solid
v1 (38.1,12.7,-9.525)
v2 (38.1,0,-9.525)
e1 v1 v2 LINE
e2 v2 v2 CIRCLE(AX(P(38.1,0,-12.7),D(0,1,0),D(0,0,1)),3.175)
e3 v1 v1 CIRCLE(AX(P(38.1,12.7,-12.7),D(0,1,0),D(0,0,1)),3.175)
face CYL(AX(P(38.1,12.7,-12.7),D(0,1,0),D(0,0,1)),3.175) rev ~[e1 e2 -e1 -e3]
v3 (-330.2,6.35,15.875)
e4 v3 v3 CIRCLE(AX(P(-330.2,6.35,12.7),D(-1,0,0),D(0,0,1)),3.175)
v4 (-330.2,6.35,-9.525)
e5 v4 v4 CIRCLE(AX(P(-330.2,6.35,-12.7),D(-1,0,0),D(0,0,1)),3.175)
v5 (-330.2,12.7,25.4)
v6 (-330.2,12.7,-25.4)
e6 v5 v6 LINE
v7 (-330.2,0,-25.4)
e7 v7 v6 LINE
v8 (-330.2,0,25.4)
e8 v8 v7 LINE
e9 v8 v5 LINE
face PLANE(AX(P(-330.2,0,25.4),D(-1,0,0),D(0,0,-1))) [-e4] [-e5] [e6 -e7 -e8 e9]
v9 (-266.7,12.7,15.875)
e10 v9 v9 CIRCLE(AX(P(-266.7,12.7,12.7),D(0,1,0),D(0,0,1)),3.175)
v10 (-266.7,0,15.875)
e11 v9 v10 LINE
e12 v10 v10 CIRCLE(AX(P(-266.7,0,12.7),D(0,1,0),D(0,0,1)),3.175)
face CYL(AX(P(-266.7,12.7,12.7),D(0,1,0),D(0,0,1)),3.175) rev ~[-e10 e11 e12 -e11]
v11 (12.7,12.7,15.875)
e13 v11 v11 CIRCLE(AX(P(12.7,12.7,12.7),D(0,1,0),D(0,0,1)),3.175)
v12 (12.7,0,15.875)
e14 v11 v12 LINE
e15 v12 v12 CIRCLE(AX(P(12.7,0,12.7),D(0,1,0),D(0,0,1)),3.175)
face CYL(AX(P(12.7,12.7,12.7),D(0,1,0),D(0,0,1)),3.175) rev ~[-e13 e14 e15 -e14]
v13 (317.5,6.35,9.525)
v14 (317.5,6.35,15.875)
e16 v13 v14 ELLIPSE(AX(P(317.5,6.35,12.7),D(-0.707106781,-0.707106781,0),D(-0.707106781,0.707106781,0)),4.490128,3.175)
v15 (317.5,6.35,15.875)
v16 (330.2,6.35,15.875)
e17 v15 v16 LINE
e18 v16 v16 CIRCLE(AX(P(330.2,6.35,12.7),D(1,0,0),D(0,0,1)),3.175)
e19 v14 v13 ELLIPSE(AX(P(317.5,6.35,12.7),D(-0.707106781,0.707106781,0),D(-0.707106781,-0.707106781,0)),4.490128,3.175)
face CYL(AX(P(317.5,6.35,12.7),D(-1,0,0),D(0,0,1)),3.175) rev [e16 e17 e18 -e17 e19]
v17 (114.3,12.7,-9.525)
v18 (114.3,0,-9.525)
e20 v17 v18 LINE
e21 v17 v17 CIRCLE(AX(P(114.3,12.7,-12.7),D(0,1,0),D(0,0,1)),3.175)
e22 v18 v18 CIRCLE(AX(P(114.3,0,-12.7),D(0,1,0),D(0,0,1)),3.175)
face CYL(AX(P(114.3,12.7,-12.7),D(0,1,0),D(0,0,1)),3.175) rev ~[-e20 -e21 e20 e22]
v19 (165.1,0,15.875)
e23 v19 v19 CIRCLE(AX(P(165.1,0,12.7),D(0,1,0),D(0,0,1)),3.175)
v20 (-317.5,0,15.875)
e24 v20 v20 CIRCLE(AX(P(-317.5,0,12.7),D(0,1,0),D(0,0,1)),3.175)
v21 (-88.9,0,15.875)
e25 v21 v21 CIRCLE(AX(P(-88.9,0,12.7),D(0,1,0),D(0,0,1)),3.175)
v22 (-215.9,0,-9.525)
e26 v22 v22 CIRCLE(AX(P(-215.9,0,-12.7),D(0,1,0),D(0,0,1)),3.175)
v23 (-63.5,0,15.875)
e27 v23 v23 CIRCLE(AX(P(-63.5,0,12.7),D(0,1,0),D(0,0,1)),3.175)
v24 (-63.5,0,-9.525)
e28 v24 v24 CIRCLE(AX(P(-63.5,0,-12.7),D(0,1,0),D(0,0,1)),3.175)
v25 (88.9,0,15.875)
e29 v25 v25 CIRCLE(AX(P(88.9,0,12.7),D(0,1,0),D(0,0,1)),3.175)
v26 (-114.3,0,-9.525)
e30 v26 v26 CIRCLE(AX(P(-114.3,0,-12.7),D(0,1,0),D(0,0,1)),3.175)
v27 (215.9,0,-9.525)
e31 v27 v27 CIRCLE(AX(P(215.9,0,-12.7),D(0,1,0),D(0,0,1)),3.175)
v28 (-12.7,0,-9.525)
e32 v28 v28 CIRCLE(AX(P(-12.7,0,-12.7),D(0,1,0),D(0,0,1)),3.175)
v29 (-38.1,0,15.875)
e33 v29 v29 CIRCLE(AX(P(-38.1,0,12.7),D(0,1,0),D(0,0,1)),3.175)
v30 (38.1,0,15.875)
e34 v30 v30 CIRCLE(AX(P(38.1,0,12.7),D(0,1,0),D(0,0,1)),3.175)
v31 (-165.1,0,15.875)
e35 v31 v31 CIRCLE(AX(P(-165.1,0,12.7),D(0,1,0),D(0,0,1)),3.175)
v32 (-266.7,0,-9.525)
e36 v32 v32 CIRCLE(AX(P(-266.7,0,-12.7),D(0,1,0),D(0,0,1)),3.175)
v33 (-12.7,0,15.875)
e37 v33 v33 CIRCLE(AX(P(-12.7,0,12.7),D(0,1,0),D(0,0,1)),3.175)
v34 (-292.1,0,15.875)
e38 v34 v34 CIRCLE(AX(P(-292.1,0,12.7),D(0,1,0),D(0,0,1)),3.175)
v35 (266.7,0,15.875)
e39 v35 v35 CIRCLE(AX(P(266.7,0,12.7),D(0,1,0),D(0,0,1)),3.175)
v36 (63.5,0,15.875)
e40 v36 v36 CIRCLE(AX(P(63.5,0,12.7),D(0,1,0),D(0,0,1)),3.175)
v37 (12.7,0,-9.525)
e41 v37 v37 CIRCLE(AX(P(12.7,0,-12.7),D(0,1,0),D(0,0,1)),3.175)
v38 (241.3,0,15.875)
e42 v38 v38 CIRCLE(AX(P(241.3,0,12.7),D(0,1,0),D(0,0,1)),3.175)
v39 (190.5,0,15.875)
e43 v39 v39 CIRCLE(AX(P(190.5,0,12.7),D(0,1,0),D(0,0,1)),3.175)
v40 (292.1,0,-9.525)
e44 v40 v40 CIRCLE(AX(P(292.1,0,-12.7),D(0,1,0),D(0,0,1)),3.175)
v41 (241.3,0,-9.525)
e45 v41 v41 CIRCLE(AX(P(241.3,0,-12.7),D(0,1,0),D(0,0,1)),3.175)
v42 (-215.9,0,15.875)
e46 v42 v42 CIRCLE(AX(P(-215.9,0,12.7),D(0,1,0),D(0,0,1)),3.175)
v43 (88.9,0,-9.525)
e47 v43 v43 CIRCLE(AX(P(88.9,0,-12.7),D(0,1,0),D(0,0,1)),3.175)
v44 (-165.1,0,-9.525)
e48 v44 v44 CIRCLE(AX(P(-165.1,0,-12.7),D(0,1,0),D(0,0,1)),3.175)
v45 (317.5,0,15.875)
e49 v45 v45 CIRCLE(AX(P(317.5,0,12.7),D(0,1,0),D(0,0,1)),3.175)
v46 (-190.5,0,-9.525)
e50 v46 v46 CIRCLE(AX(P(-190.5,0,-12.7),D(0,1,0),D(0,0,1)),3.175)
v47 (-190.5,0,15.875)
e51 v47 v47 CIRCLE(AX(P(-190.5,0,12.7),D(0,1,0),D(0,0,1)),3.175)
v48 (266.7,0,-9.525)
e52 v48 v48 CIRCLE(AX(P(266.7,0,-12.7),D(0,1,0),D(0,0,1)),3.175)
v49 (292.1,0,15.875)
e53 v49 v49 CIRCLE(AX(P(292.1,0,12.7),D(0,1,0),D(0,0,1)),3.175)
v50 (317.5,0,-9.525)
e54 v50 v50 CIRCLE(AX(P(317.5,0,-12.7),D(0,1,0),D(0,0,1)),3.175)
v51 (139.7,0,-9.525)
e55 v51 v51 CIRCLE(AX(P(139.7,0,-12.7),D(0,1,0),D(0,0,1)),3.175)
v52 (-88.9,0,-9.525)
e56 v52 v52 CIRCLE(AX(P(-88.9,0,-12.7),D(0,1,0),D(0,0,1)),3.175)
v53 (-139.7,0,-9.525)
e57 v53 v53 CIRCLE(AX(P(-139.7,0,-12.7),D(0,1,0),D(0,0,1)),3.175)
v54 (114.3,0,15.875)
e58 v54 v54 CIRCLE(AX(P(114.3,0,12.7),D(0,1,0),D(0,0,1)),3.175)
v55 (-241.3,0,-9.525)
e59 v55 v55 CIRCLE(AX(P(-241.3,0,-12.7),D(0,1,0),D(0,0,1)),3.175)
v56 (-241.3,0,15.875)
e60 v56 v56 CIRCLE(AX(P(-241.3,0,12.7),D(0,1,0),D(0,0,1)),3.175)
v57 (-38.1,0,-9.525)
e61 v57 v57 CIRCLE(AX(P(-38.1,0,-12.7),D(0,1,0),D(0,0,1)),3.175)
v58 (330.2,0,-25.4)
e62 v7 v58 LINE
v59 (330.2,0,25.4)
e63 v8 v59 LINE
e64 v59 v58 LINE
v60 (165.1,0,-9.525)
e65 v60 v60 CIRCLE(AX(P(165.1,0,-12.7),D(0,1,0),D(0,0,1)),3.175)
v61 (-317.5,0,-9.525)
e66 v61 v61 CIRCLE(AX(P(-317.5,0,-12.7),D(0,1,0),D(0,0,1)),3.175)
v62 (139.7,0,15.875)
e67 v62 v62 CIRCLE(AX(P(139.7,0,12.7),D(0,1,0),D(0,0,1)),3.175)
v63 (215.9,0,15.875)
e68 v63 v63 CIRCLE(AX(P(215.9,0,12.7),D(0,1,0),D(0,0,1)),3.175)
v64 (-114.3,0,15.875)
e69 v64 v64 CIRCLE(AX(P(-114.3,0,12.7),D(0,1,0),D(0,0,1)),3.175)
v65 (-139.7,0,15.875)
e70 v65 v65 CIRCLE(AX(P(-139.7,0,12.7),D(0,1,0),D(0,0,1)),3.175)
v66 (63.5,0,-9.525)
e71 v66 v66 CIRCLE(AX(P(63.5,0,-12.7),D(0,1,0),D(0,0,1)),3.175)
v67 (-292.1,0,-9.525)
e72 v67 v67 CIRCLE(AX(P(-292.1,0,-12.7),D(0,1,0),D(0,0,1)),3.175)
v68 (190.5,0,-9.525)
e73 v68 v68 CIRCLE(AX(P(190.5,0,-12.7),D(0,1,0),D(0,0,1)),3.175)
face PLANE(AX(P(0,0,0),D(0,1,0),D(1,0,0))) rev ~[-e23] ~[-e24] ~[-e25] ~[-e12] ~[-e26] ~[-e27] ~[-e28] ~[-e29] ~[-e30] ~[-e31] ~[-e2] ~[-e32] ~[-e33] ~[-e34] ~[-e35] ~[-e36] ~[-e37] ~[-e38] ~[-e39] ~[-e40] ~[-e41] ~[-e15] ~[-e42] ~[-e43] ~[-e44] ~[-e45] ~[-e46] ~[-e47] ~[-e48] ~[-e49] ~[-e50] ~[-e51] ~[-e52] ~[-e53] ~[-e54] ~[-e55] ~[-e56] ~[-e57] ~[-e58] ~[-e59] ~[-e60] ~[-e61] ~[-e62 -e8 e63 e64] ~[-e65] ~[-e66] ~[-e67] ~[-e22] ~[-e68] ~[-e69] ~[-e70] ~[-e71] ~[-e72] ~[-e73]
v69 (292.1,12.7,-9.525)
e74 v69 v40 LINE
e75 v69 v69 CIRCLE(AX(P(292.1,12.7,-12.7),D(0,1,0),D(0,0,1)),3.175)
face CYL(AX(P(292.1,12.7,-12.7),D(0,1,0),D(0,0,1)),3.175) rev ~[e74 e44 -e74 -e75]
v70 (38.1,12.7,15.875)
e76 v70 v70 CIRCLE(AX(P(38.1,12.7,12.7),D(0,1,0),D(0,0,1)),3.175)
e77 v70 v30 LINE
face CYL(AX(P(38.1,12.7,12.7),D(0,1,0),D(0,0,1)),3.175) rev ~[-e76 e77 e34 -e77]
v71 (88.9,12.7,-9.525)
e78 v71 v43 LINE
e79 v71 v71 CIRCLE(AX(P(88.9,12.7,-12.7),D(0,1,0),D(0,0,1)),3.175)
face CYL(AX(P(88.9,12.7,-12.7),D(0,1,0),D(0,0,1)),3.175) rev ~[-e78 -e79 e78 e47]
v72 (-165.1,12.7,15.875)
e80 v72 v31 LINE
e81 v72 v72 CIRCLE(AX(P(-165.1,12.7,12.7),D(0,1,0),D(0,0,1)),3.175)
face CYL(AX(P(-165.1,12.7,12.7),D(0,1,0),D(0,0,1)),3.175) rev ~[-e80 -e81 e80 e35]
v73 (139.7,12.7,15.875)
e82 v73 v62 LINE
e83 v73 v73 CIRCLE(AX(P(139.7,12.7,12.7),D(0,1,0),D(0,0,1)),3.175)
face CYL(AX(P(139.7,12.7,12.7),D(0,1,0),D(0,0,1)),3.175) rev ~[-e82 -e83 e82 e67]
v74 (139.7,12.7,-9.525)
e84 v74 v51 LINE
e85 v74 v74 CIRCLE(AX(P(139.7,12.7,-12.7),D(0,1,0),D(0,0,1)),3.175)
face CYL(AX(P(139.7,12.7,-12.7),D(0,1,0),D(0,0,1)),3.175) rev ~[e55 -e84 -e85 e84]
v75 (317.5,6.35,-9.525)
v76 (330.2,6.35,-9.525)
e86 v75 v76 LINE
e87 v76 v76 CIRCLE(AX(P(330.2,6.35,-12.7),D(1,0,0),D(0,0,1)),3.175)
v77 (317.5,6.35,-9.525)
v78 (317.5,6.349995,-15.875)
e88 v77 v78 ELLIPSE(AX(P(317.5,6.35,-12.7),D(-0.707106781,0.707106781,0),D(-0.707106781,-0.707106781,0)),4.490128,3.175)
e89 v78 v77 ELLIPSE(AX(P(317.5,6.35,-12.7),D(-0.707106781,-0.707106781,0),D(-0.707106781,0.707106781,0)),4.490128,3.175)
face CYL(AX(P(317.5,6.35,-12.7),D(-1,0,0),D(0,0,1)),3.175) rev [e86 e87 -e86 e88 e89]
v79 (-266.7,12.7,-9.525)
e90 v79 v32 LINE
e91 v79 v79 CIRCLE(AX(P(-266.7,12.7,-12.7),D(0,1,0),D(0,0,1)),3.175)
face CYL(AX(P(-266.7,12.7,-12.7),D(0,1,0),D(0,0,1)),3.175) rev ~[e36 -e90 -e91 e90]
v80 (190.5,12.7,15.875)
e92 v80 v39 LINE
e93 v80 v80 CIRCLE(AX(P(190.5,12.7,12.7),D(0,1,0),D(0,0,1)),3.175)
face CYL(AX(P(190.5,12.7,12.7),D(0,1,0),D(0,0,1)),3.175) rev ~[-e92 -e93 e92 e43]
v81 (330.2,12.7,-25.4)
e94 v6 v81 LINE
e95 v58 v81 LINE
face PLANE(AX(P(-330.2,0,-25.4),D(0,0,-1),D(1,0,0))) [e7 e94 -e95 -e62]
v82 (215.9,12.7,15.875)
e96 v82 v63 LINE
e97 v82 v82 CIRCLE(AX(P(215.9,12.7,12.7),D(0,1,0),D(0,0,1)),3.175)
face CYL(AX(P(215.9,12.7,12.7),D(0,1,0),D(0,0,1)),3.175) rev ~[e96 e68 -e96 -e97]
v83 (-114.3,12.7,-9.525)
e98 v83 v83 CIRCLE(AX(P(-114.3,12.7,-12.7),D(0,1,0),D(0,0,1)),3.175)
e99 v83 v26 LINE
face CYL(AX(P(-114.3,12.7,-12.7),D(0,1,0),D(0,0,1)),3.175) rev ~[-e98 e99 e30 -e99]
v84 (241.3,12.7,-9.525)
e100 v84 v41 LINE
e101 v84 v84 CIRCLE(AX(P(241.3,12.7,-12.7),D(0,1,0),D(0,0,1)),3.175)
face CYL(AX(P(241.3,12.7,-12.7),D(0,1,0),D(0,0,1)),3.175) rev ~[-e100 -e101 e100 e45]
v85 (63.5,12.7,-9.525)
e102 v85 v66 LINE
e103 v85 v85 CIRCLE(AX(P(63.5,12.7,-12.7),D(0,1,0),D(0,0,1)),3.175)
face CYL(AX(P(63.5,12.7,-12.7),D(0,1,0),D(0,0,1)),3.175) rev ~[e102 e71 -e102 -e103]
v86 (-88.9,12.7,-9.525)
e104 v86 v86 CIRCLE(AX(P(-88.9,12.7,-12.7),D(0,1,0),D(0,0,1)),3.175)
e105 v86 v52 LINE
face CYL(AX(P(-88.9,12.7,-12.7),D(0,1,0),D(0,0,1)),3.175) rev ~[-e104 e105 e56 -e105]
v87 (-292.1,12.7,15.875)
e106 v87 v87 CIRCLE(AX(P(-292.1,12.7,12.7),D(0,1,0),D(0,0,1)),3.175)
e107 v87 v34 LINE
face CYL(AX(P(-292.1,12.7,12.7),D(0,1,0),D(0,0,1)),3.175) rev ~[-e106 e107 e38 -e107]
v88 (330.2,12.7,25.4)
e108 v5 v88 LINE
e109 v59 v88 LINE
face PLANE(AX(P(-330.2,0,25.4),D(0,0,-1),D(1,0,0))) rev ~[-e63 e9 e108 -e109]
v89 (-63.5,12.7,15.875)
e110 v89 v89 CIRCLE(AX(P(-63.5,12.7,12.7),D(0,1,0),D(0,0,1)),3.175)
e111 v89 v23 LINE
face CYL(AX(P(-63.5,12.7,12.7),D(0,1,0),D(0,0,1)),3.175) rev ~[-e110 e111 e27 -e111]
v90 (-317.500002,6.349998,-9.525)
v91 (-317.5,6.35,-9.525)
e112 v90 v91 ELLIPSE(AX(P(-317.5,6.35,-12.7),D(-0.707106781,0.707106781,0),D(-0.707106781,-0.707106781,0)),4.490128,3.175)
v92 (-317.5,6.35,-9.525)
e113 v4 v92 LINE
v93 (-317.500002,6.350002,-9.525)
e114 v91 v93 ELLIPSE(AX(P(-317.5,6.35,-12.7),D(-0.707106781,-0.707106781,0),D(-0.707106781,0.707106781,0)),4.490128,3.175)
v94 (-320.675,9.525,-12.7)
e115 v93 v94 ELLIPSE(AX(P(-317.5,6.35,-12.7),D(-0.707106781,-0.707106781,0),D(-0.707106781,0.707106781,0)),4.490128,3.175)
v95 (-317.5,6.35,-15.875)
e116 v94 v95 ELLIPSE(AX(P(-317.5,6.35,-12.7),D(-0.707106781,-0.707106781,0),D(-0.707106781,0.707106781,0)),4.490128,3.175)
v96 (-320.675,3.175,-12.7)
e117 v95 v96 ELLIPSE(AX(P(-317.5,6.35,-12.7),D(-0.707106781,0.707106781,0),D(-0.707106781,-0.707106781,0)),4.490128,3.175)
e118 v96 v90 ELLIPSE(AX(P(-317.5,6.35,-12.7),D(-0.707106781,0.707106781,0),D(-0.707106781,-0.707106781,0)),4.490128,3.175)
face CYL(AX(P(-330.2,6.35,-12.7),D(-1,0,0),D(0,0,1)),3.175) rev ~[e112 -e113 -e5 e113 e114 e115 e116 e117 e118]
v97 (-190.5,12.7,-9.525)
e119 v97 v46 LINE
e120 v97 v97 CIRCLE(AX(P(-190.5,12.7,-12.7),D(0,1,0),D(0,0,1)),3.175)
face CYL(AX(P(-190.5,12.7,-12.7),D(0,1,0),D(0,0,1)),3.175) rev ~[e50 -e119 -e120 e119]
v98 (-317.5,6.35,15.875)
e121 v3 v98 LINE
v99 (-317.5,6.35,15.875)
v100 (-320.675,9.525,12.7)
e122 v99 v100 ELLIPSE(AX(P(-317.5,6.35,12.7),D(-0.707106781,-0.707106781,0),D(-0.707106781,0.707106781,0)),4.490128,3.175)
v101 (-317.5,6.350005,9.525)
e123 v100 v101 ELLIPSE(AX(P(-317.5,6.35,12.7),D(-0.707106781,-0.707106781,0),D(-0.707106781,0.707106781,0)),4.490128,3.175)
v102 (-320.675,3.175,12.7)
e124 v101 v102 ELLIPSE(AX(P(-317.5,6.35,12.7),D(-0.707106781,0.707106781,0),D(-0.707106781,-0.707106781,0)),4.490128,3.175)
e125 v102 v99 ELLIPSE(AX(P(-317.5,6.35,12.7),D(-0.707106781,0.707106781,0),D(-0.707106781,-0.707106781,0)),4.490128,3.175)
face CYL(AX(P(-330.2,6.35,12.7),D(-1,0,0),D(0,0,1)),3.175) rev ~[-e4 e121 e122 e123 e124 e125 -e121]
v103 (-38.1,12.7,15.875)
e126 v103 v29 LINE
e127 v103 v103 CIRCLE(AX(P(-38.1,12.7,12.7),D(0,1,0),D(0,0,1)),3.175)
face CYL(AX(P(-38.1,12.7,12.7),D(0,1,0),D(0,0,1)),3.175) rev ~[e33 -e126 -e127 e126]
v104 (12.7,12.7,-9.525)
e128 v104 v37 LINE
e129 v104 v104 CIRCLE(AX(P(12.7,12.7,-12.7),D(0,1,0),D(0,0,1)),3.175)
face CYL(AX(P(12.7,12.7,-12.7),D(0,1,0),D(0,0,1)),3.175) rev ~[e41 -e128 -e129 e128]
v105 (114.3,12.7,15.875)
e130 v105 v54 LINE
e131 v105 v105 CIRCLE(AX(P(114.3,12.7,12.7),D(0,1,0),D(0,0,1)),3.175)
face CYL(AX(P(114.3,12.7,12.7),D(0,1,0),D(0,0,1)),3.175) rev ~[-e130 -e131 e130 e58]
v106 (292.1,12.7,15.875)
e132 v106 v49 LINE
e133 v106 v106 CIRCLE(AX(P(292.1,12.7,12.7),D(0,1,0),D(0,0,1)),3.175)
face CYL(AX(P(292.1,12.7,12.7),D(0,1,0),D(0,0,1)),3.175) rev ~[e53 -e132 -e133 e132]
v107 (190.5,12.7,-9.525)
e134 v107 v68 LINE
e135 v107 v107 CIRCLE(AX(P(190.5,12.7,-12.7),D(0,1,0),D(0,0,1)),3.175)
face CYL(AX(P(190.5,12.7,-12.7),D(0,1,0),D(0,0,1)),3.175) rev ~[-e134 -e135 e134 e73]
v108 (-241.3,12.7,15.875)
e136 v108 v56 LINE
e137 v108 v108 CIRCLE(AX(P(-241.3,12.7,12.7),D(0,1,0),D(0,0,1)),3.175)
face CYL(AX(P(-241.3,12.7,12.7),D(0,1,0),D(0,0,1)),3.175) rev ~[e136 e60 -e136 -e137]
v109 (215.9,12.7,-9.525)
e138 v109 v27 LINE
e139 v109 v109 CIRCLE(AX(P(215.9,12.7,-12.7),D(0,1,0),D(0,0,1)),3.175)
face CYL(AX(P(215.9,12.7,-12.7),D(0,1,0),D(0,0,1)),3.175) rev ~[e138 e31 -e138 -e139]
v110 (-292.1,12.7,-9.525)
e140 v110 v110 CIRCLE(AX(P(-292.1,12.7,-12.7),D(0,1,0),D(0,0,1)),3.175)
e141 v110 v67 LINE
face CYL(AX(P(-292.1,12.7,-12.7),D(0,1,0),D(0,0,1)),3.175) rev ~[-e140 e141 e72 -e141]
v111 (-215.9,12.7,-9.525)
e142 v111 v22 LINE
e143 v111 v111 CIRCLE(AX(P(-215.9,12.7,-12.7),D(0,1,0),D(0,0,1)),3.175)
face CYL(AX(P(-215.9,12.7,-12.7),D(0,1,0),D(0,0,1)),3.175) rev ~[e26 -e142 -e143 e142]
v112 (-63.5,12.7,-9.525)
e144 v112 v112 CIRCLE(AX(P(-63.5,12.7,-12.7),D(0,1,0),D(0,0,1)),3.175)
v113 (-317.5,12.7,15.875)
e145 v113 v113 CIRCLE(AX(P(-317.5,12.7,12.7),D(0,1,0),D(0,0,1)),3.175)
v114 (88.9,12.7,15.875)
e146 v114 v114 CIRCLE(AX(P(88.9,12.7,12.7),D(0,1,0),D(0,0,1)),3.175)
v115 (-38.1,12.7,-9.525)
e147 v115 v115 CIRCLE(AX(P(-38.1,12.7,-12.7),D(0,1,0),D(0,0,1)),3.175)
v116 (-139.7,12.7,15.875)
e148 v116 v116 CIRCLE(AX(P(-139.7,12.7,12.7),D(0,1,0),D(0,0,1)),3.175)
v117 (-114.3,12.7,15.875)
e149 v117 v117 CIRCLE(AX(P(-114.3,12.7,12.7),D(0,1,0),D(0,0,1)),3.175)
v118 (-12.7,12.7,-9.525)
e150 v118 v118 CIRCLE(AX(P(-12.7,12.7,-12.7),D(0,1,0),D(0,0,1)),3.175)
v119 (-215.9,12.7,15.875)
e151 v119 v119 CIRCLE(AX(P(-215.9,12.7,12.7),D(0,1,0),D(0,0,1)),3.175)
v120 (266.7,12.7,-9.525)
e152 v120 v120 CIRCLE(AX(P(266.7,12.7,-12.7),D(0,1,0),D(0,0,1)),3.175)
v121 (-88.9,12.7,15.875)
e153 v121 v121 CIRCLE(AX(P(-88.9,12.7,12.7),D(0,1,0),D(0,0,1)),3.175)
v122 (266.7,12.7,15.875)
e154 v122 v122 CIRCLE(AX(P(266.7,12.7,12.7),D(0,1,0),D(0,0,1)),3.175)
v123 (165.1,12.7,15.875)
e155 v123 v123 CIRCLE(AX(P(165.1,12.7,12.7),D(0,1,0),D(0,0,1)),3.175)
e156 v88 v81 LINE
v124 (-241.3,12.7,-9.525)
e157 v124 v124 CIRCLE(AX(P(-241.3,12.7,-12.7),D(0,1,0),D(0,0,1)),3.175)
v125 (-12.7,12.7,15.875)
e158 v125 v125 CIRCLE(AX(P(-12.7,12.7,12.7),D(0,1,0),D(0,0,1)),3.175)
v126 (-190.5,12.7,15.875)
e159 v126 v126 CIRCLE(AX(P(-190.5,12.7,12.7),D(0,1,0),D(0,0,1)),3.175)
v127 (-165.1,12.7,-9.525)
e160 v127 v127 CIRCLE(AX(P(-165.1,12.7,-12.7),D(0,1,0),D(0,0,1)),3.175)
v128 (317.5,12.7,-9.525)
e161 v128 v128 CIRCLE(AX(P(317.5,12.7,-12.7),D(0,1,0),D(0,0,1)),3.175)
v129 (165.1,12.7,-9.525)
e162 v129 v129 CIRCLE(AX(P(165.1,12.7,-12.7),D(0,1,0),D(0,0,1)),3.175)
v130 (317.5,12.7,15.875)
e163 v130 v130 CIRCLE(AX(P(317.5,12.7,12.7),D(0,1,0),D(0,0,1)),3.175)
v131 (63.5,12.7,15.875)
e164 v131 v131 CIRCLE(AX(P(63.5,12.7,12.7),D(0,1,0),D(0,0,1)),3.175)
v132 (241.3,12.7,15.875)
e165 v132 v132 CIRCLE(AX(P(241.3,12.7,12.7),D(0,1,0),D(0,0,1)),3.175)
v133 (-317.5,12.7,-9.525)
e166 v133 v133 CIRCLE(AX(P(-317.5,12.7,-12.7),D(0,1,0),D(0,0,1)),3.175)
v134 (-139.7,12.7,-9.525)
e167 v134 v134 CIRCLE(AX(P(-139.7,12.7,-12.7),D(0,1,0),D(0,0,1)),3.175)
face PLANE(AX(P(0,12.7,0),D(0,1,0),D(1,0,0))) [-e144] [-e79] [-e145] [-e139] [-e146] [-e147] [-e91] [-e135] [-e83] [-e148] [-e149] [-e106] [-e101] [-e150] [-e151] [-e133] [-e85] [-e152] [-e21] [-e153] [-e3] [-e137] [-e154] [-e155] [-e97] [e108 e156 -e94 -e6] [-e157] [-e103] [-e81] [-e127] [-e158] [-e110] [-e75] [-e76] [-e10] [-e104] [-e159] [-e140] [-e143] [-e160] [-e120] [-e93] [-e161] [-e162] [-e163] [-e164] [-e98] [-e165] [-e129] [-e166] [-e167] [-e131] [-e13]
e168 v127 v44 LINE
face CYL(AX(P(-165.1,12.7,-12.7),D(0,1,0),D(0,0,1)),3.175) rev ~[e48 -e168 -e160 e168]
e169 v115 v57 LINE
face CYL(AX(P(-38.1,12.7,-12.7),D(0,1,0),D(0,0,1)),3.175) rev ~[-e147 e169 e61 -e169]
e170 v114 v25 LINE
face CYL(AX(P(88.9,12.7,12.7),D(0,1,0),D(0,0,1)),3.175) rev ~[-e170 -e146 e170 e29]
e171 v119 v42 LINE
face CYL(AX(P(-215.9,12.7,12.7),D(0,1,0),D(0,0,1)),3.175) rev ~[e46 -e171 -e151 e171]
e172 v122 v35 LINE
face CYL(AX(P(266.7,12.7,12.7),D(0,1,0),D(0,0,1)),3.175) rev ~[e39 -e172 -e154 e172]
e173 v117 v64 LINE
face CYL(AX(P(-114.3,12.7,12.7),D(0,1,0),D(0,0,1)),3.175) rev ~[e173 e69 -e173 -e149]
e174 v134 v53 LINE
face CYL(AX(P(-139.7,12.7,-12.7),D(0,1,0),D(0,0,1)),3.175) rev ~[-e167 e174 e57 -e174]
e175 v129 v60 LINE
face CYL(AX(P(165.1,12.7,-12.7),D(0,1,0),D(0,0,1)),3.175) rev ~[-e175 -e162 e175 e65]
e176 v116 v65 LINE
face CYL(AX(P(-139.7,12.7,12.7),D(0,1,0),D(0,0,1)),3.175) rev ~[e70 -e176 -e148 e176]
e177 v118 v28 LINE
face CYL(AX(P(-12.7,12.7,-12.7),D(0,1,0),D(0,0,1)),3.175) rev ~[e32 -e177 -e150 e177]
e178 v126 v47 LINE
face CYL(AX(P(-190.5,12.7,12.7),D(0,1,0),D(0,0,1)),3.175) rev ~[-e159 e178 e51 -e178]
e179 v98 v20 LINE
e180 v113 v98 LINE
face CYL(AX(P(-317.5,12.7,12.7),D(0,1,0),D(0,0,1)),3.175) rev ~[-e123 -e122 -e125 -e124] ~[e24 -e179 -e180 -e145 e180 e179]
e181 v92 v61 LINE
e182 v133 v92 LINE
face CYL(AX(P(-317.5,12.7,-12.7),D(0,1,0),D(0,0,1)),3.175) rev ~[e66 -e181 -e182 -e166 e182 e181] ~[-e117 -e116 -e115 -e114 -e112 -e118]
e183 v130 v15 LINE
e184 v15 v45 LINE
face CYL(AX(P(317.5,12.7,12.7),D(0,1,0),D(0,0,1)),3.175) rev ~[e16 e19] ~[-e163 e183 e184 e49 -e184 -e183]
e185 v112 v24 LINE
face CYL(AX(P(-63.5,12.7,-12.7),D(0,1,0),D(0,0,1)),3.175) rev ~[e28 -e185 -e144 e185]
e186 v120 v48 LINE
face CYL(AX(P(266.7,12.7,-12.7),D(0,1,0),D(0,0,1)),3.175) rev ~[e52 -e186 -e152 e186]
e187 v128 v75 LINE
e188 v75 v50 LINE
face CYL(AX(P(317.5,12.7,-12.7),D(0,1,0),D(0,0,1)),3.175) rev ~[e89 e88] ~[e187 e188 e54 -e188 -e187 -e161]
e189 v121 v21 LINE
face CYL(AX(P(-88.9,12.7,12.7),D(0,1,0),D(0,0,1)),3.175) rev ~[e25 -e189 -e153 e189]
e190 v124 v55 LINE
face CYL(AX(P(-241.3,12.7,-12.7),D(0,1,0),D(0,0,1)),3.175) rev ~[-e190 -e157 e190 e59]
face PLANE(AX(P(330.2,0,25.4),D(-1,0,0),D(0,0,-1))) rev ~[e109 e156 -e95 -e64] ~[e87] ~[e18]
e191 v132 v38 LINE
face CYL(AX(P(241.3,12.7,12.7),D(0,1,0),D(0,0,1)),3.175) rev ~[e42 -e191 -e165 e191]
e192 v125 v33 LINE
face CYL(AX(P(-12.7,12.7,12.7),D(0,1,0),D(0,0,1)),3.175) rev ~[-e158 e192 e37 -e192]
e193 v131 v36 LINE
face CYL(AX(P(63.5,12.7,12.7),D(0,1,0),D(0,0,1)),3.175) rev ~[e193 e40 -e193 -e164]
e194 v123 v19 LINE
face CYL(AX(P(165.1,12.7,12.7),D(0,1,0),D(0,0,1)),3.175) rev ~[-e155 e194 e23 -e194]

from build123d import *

# Parameters (mm, degrees)
SKETCH1_W           = 660.4
SKETCH1_H           = 50.8
BOSS_EXTRUDE1_DEPTH = 12.7
SKETCH2_R           = 3.175
CUT_EXTRUDE1_DEPTH  = 12.7
CUT_EXTRUDE2_START  = -12.7
SKETCH3_R           = 3.175
CUT_EXTRUDE2_DEPTH  = 12.7
SKETCH4_R           = 3.175
CUT_EXTRUDE3_DEPTH  = 332.418904108


with BuildPart() as part:
    # Sketch1 → Boss-Extrude1 (new body)
    with BuildSketch(Plane(origin=(0, 0, 0), x_dir=(1, 0, 0), z_dir=(0, 1, 0))):
        Rectangle(SKETCH1_W, SKETCH1_H)
    extrude(amount=BOSS_EXTRUDE1_DEPTH)

    # Sketch2 → Cut-Extrude1 (cut)
    with BuildSketch(Plane.ZY.offset(330.2)):
        with Locations((-12.7, 6.35)):
            Circle(SKETCH2_R)
        with Locations((12.7, 6.35)):
            Circle(SKETCH2_R)
    extrude(amount=-CUT_EXTRUDE1_DEPTH, mode=Mode.SUBTRACT)

    # Sketch3 → Cut-Extrude2 (cut)
    with BuildSketch(Plane(origin=(330.2, 0, 0), x_dir=(0, 0, -1), z_dir=(1, 0, 0)).offset(CUT_EXTRUDE2_START)):
        with Locations(Location((-12.7, 6.35, 0), (0, 0, 180))):
            Circle(SKETCH3_R)
        with Locations(Location((12.7, 6.35, 0), (0, 0, 180))):
            Circle(SKETCH3_R)
    extrude(amount=CUT_EXTRUDE2_DEPTH, mode=Mode.SUBTRACT)

    # Sketch4 → Cut-Extrude3 (cut, through all)
    with BuildSketch(Plane(origin=(0, 12.7, 0), x_dir=(1, 0, 0), z_dir=(0, 1, 0))):
        with Locations(Location((-317.5, 12.7, 0), (0, 0, 270))):
            Circle(SKETCH4_R)
        with Locations(Location((-292.1, 12.7, 0), (0, 0, 270))):
            Circle(SKETCH4_R)
        with Locations(Location((-266.7, 12.7, 0), (0, 0, 270))):
            Circle(SKETCH4_R)
        with Locations(Location((-241.3, 12.7, 0), (0, 0, 270))):
            Circle(SKETCH4_R)
        with Locations(Location((-215.9, 12.7, 0), (0, 0, 270))):
            Circle(SKETCH4_R)
        with Locations(Location((-190.5, 12.7, 0), (0, 0, 270))):
            Circle(SKETCH4_R)
        with Locations(Location((-165.1, 12.7, 0), (0, 0, 270))):
            Circle(SKETCH4_R)
        with Locations(Location((-139.7, 12.7, 0), (0, 0, 270))):
            Circle(SKETCH4_R)
        with Locations(Location((-114.3, 12.7, 0), (0, 0, 270))):
            Circle(SKETCH4_R)
        with Locations(Location((-88.9, 12.7, 0), (0, 0, 270))):
            Circle(SKETCH4_R)
        with Locations(Location((-63.5, 12.7, 0), (0, 0, 270))):
            Circle(SKETCH4_R)
        with Locations(Location((-38.1, 12.7, 0), (0, 0, 270))):
            Circle(SKETCH4_R)
        with Locations(Location((-12.7, 12.7, 0), (0, 0, 270))):
            Circle(SKETCH4_R)
        with Locations(Location((12.7, 12.7, 0), (0, 0, 270))):
            Circle(SKETCH4_R)
        with Locations(Location((38.1, 12.7, 0), (0, 0, 270))):
            Circle(SKETCH4_R)
        with Locations(Location((63.5, 12.7, 0), (0, 0, 270))):
            Circle(SKETCH4_R)
        with Locations(Location((88.9, 12.7, 0), (0, 0, 270))):
            Circle(SKETCH4_R)
        with Locations(Location((114.3, 12.7, 0), (0, 0, 270))):
            Circle(SKETCH4_R)
        with Locations(Location((139.7, 12.7, 0), (0, 0, 270))):
            Circle(SKETCH4_R)
        with Locations(Location((165.1, 12.7, 0), (0, 0, 270))):
            Circle(SKETCH4_R)
        with Locations(Location((190.5, 12.7, 0), (0, 0, 270))):
            Circle(SKETCH4_R)
        with Locations(Location((215.9, 12.7, 0), (0, 0, 270))):
            Circle(SKETCH4_R)
        with Locations(Location((241.3, 12.7, 0), (0, 0, 270))):
            Circle(SKETCH4_R)
        with Locations(Location((266.7, 12.7, 0), (0, 0, 270))):
            Circle(SKETCH4_R)
        with Locations(Location((-292.1, -12.7, 0), (0, 0, 270))):
            Circle(SKETCH4_R)
        with Locations(Location((-266.7, -12.7, 0), (0, 0, 270))):
            Circle(SKETCH4_R)
        with Locations(Location((-241.3, -12.7, 0), (0, 0, 270))):
            Circle(SKETCH4_R)
        with Locations(Location((-215.9, -12.7, 0), (0, 0, 270))):
            Circle(SKETCH4_R)
        with Locations(Location((-190.5, -12.7, 0), (0, 0, 270))):
            Circle(SKETCH4_R)
        with Locations(Location((-165.1, -12.7, 0), (0, 0, 270))):
            Circle(SKETCH4_R)
        with Locations(Location((-139.7, -12.7, 0), (0, 0, 270))):
            Circle(SKETCH4_R)
        with Locations(Location((-114.3, -12.7, 0), (0, 0, 270))):
            Circle(SKETCH4_R)
        with Locations(Location((-88.9, -12.7, 0), (0, 0, 270))):
            Circle(SKETCH4_R)
        with Locations(Location((-63.5, -12.7, 0), (0, 0, 270))):
            Circle(SKETCH4_R)
        with Locations(Location((-38.1, -12.7, 0), (0, 0, 270))):
            Circle(SKETCH4_R)
        with Locations(Location((-12.7, -12.7, 0), (0, 0, 270))):
            Circle(SKETCH4_R)
        with Locations(Location((12.7, -12.7, 0), (0, 0, 270))):
            Circle(SKETCH4_R)
        with Locations(Location((38.1, -12.7, 0), (0, 0, 270))):
            Circle(SKETCH4_R)
        with Locations(Location((63.5, -12.7, 0), (0, 0, 270))):
            Circle(SKETCH4_R)
        with Locations(Location((88.9, -12.7, 0), (0, 0, 270))):
            Circle(SKETCH4_R)
        with Locations(Location((114.3, -12.7, 0), (0, 0, 270))):
            Circle(SKETCH4_R)
        with Locations(Location((139.7, -12.7, 0), (0, 0, 270))):
            Circle(SKETCH4_R)
        with Locations(Location((165.1, -12.7, 0), (0, 0, 270))):
            Circle(SKETCH4_R)
        with Locations(Location((190.5, -12.7, 0), (0, 0, 270))):
            Circle(SKETCH4_R)
        with Locations(Location((215.9, -12.7, 0), (0, 0, 270))):
            Circle(SKETCH4_R)
        with Locations(Location((241.3, -12.7, 0), (0, 0, 270))):
            Circle(SKETCH4_R)
        with Locations(Location((266.7, -12.7, 0), (0, 0, 270))):
            Circle(SKETCH4_R)
        with Locations(Location((-317.5, -12.7, 0), (0, 0, 270))):
            Circle(SKETCH4_R)
        with Locations(Location((292.1, 12.7, 0), (0, 0, 270))):
            Circle(SKETCH4_R)
        with Locations(Location((317.5, 12.7, 0), (0, 0, 270))):
            Circle(SKETCH4_R)
        with Locations((342.9, 12.7)):
            Circle(SKETCH4_R)
        with Locations((368.3, 12.7)):
            Circle(SKETCH4_R)
        with Locations((393.7, 12.7)):
            Circle(SKETCH4_R)
        with Locations((419.1, 12.7)):
            Circle(SKETCH4_R)
        with Locations((444.5, 12.7)):
            Circle(SKETCH4_R)
        with Locations((469.9, 12.7)):
            Circle(SKETCH4_R)
        with Locations((495.3, 12.7)):
            Circle(SKETCH4_R)
        with Locations((520.7, 12.7)):
            Circle(SKETCH4_R)
        with Locations((546.1, 12.7)):
            Circle(SKETCH4_R)
        with Locations((571.5, 12.7)):
            Circle(SKETCH4_R)
        with Locations((596.9, 12.7)):
            Circle(SKETCH4_R)
        with Locations((622.3, 12.7)):
            Circle(SKETCH4_R)
        with Locations((647.7, 12.7)):
            Circle(SKETCH4_R)
        with Locations((673.1, 12.7)):
            Circle(SKETCH4_R)
        with Locations((698.5, 12.7)):
            Circle(SKETCH4_R)
        with Locations((723.9, 12.7)):
            Circle(SKETCH4_R)
        with Locations((749.3, 12.7)):
            Circle(SKETCH4_R)
        with Locations((774.7, 12.7)):
            Circle(SKETCH4_R)
        with Locations((800.1, 12.7)):
            Circle(SKETCH4_R)
        with Locations((825.5, 12.7)):
            Circle(SKETCH4_R)
        with Locations((850.9, 12.7)):
            Circle(SKETCH4_R)
        with Locations((876.3, 12.7)):
            Circle(SKETCH4_R)
        with Locations(Location((292.1, -12.7, 0), (0, 0, 270))):
            Circle(SKETCH4_R)
        with Locations(Location((317.5, -12.7, 0), (0, 0, 270))):
            Circle(SKETCH4_R)
        with Locations((342.9, -12.7)):
            Circle(SKETCH4_R)
        with Locations((368.3, -12.7)):
            Circle(SKETCH4_R)
        with Locations((393.7, -12.7)):
            Circle(SKETCH4_R)
        with Locations((419.1, -12.7)):
            Circle(SKETCH4_R)
        with Locations((444.5, -12.7)):
            Circle(SKETCH4_R)
        with Locations((469.9, -12.7)):
            Circle(SKETCH4_R)
        with Locations((495.3, -12.7)):
            Circle(SKETCH4_R)
        with Locations((520.7, -12.7)):
            Circle(SKETCH4_R)
        with Locations((546.1, -12.7)):
            Circle(SKETCH4_R)
        with Locations((571.5, -12.7)):
            Circle(SKETCH4_R)
        with Locations((596.9, -12.7)):
            Circle(SKETCH4_R)
        with Locations((622.3, -12.7)):
            Circle(SKETCH4_R)
        with Locations((647.7, -12.7)):
            Circle(SKETCH4_R)
        with Locations((673.1, -12.7)):
            Circle(SKETCH4_R)
        with Locations((698.5, -12.7)):
            Circle(SKETCH4_R)
        with Locations((723.9, -12.7)):
            Circle(SKETCH4_R)
        with Locations((749.3, -12.7)):
            Circle(SKETCH4_R)
        with Locations((774.7, -12.7)):
            Circle(SKETCH4_R)
        with Locations((800.1, -12.7)):
            Circle(SKETCH4_R)
        with Locations((825.5, -12.7)):
            Circle(SKETCH4_R)
        with Locations((850.9, -12.7)):
            Circle(SKETCH4_R)
        with Locations((876.3, -12.7)):
            Circle(SKETCH4_R)
    extrude(amount=-CUT_EXTRUDE3_DEPTH, mode=Mode.SUBTRACT)


solid = part.part
